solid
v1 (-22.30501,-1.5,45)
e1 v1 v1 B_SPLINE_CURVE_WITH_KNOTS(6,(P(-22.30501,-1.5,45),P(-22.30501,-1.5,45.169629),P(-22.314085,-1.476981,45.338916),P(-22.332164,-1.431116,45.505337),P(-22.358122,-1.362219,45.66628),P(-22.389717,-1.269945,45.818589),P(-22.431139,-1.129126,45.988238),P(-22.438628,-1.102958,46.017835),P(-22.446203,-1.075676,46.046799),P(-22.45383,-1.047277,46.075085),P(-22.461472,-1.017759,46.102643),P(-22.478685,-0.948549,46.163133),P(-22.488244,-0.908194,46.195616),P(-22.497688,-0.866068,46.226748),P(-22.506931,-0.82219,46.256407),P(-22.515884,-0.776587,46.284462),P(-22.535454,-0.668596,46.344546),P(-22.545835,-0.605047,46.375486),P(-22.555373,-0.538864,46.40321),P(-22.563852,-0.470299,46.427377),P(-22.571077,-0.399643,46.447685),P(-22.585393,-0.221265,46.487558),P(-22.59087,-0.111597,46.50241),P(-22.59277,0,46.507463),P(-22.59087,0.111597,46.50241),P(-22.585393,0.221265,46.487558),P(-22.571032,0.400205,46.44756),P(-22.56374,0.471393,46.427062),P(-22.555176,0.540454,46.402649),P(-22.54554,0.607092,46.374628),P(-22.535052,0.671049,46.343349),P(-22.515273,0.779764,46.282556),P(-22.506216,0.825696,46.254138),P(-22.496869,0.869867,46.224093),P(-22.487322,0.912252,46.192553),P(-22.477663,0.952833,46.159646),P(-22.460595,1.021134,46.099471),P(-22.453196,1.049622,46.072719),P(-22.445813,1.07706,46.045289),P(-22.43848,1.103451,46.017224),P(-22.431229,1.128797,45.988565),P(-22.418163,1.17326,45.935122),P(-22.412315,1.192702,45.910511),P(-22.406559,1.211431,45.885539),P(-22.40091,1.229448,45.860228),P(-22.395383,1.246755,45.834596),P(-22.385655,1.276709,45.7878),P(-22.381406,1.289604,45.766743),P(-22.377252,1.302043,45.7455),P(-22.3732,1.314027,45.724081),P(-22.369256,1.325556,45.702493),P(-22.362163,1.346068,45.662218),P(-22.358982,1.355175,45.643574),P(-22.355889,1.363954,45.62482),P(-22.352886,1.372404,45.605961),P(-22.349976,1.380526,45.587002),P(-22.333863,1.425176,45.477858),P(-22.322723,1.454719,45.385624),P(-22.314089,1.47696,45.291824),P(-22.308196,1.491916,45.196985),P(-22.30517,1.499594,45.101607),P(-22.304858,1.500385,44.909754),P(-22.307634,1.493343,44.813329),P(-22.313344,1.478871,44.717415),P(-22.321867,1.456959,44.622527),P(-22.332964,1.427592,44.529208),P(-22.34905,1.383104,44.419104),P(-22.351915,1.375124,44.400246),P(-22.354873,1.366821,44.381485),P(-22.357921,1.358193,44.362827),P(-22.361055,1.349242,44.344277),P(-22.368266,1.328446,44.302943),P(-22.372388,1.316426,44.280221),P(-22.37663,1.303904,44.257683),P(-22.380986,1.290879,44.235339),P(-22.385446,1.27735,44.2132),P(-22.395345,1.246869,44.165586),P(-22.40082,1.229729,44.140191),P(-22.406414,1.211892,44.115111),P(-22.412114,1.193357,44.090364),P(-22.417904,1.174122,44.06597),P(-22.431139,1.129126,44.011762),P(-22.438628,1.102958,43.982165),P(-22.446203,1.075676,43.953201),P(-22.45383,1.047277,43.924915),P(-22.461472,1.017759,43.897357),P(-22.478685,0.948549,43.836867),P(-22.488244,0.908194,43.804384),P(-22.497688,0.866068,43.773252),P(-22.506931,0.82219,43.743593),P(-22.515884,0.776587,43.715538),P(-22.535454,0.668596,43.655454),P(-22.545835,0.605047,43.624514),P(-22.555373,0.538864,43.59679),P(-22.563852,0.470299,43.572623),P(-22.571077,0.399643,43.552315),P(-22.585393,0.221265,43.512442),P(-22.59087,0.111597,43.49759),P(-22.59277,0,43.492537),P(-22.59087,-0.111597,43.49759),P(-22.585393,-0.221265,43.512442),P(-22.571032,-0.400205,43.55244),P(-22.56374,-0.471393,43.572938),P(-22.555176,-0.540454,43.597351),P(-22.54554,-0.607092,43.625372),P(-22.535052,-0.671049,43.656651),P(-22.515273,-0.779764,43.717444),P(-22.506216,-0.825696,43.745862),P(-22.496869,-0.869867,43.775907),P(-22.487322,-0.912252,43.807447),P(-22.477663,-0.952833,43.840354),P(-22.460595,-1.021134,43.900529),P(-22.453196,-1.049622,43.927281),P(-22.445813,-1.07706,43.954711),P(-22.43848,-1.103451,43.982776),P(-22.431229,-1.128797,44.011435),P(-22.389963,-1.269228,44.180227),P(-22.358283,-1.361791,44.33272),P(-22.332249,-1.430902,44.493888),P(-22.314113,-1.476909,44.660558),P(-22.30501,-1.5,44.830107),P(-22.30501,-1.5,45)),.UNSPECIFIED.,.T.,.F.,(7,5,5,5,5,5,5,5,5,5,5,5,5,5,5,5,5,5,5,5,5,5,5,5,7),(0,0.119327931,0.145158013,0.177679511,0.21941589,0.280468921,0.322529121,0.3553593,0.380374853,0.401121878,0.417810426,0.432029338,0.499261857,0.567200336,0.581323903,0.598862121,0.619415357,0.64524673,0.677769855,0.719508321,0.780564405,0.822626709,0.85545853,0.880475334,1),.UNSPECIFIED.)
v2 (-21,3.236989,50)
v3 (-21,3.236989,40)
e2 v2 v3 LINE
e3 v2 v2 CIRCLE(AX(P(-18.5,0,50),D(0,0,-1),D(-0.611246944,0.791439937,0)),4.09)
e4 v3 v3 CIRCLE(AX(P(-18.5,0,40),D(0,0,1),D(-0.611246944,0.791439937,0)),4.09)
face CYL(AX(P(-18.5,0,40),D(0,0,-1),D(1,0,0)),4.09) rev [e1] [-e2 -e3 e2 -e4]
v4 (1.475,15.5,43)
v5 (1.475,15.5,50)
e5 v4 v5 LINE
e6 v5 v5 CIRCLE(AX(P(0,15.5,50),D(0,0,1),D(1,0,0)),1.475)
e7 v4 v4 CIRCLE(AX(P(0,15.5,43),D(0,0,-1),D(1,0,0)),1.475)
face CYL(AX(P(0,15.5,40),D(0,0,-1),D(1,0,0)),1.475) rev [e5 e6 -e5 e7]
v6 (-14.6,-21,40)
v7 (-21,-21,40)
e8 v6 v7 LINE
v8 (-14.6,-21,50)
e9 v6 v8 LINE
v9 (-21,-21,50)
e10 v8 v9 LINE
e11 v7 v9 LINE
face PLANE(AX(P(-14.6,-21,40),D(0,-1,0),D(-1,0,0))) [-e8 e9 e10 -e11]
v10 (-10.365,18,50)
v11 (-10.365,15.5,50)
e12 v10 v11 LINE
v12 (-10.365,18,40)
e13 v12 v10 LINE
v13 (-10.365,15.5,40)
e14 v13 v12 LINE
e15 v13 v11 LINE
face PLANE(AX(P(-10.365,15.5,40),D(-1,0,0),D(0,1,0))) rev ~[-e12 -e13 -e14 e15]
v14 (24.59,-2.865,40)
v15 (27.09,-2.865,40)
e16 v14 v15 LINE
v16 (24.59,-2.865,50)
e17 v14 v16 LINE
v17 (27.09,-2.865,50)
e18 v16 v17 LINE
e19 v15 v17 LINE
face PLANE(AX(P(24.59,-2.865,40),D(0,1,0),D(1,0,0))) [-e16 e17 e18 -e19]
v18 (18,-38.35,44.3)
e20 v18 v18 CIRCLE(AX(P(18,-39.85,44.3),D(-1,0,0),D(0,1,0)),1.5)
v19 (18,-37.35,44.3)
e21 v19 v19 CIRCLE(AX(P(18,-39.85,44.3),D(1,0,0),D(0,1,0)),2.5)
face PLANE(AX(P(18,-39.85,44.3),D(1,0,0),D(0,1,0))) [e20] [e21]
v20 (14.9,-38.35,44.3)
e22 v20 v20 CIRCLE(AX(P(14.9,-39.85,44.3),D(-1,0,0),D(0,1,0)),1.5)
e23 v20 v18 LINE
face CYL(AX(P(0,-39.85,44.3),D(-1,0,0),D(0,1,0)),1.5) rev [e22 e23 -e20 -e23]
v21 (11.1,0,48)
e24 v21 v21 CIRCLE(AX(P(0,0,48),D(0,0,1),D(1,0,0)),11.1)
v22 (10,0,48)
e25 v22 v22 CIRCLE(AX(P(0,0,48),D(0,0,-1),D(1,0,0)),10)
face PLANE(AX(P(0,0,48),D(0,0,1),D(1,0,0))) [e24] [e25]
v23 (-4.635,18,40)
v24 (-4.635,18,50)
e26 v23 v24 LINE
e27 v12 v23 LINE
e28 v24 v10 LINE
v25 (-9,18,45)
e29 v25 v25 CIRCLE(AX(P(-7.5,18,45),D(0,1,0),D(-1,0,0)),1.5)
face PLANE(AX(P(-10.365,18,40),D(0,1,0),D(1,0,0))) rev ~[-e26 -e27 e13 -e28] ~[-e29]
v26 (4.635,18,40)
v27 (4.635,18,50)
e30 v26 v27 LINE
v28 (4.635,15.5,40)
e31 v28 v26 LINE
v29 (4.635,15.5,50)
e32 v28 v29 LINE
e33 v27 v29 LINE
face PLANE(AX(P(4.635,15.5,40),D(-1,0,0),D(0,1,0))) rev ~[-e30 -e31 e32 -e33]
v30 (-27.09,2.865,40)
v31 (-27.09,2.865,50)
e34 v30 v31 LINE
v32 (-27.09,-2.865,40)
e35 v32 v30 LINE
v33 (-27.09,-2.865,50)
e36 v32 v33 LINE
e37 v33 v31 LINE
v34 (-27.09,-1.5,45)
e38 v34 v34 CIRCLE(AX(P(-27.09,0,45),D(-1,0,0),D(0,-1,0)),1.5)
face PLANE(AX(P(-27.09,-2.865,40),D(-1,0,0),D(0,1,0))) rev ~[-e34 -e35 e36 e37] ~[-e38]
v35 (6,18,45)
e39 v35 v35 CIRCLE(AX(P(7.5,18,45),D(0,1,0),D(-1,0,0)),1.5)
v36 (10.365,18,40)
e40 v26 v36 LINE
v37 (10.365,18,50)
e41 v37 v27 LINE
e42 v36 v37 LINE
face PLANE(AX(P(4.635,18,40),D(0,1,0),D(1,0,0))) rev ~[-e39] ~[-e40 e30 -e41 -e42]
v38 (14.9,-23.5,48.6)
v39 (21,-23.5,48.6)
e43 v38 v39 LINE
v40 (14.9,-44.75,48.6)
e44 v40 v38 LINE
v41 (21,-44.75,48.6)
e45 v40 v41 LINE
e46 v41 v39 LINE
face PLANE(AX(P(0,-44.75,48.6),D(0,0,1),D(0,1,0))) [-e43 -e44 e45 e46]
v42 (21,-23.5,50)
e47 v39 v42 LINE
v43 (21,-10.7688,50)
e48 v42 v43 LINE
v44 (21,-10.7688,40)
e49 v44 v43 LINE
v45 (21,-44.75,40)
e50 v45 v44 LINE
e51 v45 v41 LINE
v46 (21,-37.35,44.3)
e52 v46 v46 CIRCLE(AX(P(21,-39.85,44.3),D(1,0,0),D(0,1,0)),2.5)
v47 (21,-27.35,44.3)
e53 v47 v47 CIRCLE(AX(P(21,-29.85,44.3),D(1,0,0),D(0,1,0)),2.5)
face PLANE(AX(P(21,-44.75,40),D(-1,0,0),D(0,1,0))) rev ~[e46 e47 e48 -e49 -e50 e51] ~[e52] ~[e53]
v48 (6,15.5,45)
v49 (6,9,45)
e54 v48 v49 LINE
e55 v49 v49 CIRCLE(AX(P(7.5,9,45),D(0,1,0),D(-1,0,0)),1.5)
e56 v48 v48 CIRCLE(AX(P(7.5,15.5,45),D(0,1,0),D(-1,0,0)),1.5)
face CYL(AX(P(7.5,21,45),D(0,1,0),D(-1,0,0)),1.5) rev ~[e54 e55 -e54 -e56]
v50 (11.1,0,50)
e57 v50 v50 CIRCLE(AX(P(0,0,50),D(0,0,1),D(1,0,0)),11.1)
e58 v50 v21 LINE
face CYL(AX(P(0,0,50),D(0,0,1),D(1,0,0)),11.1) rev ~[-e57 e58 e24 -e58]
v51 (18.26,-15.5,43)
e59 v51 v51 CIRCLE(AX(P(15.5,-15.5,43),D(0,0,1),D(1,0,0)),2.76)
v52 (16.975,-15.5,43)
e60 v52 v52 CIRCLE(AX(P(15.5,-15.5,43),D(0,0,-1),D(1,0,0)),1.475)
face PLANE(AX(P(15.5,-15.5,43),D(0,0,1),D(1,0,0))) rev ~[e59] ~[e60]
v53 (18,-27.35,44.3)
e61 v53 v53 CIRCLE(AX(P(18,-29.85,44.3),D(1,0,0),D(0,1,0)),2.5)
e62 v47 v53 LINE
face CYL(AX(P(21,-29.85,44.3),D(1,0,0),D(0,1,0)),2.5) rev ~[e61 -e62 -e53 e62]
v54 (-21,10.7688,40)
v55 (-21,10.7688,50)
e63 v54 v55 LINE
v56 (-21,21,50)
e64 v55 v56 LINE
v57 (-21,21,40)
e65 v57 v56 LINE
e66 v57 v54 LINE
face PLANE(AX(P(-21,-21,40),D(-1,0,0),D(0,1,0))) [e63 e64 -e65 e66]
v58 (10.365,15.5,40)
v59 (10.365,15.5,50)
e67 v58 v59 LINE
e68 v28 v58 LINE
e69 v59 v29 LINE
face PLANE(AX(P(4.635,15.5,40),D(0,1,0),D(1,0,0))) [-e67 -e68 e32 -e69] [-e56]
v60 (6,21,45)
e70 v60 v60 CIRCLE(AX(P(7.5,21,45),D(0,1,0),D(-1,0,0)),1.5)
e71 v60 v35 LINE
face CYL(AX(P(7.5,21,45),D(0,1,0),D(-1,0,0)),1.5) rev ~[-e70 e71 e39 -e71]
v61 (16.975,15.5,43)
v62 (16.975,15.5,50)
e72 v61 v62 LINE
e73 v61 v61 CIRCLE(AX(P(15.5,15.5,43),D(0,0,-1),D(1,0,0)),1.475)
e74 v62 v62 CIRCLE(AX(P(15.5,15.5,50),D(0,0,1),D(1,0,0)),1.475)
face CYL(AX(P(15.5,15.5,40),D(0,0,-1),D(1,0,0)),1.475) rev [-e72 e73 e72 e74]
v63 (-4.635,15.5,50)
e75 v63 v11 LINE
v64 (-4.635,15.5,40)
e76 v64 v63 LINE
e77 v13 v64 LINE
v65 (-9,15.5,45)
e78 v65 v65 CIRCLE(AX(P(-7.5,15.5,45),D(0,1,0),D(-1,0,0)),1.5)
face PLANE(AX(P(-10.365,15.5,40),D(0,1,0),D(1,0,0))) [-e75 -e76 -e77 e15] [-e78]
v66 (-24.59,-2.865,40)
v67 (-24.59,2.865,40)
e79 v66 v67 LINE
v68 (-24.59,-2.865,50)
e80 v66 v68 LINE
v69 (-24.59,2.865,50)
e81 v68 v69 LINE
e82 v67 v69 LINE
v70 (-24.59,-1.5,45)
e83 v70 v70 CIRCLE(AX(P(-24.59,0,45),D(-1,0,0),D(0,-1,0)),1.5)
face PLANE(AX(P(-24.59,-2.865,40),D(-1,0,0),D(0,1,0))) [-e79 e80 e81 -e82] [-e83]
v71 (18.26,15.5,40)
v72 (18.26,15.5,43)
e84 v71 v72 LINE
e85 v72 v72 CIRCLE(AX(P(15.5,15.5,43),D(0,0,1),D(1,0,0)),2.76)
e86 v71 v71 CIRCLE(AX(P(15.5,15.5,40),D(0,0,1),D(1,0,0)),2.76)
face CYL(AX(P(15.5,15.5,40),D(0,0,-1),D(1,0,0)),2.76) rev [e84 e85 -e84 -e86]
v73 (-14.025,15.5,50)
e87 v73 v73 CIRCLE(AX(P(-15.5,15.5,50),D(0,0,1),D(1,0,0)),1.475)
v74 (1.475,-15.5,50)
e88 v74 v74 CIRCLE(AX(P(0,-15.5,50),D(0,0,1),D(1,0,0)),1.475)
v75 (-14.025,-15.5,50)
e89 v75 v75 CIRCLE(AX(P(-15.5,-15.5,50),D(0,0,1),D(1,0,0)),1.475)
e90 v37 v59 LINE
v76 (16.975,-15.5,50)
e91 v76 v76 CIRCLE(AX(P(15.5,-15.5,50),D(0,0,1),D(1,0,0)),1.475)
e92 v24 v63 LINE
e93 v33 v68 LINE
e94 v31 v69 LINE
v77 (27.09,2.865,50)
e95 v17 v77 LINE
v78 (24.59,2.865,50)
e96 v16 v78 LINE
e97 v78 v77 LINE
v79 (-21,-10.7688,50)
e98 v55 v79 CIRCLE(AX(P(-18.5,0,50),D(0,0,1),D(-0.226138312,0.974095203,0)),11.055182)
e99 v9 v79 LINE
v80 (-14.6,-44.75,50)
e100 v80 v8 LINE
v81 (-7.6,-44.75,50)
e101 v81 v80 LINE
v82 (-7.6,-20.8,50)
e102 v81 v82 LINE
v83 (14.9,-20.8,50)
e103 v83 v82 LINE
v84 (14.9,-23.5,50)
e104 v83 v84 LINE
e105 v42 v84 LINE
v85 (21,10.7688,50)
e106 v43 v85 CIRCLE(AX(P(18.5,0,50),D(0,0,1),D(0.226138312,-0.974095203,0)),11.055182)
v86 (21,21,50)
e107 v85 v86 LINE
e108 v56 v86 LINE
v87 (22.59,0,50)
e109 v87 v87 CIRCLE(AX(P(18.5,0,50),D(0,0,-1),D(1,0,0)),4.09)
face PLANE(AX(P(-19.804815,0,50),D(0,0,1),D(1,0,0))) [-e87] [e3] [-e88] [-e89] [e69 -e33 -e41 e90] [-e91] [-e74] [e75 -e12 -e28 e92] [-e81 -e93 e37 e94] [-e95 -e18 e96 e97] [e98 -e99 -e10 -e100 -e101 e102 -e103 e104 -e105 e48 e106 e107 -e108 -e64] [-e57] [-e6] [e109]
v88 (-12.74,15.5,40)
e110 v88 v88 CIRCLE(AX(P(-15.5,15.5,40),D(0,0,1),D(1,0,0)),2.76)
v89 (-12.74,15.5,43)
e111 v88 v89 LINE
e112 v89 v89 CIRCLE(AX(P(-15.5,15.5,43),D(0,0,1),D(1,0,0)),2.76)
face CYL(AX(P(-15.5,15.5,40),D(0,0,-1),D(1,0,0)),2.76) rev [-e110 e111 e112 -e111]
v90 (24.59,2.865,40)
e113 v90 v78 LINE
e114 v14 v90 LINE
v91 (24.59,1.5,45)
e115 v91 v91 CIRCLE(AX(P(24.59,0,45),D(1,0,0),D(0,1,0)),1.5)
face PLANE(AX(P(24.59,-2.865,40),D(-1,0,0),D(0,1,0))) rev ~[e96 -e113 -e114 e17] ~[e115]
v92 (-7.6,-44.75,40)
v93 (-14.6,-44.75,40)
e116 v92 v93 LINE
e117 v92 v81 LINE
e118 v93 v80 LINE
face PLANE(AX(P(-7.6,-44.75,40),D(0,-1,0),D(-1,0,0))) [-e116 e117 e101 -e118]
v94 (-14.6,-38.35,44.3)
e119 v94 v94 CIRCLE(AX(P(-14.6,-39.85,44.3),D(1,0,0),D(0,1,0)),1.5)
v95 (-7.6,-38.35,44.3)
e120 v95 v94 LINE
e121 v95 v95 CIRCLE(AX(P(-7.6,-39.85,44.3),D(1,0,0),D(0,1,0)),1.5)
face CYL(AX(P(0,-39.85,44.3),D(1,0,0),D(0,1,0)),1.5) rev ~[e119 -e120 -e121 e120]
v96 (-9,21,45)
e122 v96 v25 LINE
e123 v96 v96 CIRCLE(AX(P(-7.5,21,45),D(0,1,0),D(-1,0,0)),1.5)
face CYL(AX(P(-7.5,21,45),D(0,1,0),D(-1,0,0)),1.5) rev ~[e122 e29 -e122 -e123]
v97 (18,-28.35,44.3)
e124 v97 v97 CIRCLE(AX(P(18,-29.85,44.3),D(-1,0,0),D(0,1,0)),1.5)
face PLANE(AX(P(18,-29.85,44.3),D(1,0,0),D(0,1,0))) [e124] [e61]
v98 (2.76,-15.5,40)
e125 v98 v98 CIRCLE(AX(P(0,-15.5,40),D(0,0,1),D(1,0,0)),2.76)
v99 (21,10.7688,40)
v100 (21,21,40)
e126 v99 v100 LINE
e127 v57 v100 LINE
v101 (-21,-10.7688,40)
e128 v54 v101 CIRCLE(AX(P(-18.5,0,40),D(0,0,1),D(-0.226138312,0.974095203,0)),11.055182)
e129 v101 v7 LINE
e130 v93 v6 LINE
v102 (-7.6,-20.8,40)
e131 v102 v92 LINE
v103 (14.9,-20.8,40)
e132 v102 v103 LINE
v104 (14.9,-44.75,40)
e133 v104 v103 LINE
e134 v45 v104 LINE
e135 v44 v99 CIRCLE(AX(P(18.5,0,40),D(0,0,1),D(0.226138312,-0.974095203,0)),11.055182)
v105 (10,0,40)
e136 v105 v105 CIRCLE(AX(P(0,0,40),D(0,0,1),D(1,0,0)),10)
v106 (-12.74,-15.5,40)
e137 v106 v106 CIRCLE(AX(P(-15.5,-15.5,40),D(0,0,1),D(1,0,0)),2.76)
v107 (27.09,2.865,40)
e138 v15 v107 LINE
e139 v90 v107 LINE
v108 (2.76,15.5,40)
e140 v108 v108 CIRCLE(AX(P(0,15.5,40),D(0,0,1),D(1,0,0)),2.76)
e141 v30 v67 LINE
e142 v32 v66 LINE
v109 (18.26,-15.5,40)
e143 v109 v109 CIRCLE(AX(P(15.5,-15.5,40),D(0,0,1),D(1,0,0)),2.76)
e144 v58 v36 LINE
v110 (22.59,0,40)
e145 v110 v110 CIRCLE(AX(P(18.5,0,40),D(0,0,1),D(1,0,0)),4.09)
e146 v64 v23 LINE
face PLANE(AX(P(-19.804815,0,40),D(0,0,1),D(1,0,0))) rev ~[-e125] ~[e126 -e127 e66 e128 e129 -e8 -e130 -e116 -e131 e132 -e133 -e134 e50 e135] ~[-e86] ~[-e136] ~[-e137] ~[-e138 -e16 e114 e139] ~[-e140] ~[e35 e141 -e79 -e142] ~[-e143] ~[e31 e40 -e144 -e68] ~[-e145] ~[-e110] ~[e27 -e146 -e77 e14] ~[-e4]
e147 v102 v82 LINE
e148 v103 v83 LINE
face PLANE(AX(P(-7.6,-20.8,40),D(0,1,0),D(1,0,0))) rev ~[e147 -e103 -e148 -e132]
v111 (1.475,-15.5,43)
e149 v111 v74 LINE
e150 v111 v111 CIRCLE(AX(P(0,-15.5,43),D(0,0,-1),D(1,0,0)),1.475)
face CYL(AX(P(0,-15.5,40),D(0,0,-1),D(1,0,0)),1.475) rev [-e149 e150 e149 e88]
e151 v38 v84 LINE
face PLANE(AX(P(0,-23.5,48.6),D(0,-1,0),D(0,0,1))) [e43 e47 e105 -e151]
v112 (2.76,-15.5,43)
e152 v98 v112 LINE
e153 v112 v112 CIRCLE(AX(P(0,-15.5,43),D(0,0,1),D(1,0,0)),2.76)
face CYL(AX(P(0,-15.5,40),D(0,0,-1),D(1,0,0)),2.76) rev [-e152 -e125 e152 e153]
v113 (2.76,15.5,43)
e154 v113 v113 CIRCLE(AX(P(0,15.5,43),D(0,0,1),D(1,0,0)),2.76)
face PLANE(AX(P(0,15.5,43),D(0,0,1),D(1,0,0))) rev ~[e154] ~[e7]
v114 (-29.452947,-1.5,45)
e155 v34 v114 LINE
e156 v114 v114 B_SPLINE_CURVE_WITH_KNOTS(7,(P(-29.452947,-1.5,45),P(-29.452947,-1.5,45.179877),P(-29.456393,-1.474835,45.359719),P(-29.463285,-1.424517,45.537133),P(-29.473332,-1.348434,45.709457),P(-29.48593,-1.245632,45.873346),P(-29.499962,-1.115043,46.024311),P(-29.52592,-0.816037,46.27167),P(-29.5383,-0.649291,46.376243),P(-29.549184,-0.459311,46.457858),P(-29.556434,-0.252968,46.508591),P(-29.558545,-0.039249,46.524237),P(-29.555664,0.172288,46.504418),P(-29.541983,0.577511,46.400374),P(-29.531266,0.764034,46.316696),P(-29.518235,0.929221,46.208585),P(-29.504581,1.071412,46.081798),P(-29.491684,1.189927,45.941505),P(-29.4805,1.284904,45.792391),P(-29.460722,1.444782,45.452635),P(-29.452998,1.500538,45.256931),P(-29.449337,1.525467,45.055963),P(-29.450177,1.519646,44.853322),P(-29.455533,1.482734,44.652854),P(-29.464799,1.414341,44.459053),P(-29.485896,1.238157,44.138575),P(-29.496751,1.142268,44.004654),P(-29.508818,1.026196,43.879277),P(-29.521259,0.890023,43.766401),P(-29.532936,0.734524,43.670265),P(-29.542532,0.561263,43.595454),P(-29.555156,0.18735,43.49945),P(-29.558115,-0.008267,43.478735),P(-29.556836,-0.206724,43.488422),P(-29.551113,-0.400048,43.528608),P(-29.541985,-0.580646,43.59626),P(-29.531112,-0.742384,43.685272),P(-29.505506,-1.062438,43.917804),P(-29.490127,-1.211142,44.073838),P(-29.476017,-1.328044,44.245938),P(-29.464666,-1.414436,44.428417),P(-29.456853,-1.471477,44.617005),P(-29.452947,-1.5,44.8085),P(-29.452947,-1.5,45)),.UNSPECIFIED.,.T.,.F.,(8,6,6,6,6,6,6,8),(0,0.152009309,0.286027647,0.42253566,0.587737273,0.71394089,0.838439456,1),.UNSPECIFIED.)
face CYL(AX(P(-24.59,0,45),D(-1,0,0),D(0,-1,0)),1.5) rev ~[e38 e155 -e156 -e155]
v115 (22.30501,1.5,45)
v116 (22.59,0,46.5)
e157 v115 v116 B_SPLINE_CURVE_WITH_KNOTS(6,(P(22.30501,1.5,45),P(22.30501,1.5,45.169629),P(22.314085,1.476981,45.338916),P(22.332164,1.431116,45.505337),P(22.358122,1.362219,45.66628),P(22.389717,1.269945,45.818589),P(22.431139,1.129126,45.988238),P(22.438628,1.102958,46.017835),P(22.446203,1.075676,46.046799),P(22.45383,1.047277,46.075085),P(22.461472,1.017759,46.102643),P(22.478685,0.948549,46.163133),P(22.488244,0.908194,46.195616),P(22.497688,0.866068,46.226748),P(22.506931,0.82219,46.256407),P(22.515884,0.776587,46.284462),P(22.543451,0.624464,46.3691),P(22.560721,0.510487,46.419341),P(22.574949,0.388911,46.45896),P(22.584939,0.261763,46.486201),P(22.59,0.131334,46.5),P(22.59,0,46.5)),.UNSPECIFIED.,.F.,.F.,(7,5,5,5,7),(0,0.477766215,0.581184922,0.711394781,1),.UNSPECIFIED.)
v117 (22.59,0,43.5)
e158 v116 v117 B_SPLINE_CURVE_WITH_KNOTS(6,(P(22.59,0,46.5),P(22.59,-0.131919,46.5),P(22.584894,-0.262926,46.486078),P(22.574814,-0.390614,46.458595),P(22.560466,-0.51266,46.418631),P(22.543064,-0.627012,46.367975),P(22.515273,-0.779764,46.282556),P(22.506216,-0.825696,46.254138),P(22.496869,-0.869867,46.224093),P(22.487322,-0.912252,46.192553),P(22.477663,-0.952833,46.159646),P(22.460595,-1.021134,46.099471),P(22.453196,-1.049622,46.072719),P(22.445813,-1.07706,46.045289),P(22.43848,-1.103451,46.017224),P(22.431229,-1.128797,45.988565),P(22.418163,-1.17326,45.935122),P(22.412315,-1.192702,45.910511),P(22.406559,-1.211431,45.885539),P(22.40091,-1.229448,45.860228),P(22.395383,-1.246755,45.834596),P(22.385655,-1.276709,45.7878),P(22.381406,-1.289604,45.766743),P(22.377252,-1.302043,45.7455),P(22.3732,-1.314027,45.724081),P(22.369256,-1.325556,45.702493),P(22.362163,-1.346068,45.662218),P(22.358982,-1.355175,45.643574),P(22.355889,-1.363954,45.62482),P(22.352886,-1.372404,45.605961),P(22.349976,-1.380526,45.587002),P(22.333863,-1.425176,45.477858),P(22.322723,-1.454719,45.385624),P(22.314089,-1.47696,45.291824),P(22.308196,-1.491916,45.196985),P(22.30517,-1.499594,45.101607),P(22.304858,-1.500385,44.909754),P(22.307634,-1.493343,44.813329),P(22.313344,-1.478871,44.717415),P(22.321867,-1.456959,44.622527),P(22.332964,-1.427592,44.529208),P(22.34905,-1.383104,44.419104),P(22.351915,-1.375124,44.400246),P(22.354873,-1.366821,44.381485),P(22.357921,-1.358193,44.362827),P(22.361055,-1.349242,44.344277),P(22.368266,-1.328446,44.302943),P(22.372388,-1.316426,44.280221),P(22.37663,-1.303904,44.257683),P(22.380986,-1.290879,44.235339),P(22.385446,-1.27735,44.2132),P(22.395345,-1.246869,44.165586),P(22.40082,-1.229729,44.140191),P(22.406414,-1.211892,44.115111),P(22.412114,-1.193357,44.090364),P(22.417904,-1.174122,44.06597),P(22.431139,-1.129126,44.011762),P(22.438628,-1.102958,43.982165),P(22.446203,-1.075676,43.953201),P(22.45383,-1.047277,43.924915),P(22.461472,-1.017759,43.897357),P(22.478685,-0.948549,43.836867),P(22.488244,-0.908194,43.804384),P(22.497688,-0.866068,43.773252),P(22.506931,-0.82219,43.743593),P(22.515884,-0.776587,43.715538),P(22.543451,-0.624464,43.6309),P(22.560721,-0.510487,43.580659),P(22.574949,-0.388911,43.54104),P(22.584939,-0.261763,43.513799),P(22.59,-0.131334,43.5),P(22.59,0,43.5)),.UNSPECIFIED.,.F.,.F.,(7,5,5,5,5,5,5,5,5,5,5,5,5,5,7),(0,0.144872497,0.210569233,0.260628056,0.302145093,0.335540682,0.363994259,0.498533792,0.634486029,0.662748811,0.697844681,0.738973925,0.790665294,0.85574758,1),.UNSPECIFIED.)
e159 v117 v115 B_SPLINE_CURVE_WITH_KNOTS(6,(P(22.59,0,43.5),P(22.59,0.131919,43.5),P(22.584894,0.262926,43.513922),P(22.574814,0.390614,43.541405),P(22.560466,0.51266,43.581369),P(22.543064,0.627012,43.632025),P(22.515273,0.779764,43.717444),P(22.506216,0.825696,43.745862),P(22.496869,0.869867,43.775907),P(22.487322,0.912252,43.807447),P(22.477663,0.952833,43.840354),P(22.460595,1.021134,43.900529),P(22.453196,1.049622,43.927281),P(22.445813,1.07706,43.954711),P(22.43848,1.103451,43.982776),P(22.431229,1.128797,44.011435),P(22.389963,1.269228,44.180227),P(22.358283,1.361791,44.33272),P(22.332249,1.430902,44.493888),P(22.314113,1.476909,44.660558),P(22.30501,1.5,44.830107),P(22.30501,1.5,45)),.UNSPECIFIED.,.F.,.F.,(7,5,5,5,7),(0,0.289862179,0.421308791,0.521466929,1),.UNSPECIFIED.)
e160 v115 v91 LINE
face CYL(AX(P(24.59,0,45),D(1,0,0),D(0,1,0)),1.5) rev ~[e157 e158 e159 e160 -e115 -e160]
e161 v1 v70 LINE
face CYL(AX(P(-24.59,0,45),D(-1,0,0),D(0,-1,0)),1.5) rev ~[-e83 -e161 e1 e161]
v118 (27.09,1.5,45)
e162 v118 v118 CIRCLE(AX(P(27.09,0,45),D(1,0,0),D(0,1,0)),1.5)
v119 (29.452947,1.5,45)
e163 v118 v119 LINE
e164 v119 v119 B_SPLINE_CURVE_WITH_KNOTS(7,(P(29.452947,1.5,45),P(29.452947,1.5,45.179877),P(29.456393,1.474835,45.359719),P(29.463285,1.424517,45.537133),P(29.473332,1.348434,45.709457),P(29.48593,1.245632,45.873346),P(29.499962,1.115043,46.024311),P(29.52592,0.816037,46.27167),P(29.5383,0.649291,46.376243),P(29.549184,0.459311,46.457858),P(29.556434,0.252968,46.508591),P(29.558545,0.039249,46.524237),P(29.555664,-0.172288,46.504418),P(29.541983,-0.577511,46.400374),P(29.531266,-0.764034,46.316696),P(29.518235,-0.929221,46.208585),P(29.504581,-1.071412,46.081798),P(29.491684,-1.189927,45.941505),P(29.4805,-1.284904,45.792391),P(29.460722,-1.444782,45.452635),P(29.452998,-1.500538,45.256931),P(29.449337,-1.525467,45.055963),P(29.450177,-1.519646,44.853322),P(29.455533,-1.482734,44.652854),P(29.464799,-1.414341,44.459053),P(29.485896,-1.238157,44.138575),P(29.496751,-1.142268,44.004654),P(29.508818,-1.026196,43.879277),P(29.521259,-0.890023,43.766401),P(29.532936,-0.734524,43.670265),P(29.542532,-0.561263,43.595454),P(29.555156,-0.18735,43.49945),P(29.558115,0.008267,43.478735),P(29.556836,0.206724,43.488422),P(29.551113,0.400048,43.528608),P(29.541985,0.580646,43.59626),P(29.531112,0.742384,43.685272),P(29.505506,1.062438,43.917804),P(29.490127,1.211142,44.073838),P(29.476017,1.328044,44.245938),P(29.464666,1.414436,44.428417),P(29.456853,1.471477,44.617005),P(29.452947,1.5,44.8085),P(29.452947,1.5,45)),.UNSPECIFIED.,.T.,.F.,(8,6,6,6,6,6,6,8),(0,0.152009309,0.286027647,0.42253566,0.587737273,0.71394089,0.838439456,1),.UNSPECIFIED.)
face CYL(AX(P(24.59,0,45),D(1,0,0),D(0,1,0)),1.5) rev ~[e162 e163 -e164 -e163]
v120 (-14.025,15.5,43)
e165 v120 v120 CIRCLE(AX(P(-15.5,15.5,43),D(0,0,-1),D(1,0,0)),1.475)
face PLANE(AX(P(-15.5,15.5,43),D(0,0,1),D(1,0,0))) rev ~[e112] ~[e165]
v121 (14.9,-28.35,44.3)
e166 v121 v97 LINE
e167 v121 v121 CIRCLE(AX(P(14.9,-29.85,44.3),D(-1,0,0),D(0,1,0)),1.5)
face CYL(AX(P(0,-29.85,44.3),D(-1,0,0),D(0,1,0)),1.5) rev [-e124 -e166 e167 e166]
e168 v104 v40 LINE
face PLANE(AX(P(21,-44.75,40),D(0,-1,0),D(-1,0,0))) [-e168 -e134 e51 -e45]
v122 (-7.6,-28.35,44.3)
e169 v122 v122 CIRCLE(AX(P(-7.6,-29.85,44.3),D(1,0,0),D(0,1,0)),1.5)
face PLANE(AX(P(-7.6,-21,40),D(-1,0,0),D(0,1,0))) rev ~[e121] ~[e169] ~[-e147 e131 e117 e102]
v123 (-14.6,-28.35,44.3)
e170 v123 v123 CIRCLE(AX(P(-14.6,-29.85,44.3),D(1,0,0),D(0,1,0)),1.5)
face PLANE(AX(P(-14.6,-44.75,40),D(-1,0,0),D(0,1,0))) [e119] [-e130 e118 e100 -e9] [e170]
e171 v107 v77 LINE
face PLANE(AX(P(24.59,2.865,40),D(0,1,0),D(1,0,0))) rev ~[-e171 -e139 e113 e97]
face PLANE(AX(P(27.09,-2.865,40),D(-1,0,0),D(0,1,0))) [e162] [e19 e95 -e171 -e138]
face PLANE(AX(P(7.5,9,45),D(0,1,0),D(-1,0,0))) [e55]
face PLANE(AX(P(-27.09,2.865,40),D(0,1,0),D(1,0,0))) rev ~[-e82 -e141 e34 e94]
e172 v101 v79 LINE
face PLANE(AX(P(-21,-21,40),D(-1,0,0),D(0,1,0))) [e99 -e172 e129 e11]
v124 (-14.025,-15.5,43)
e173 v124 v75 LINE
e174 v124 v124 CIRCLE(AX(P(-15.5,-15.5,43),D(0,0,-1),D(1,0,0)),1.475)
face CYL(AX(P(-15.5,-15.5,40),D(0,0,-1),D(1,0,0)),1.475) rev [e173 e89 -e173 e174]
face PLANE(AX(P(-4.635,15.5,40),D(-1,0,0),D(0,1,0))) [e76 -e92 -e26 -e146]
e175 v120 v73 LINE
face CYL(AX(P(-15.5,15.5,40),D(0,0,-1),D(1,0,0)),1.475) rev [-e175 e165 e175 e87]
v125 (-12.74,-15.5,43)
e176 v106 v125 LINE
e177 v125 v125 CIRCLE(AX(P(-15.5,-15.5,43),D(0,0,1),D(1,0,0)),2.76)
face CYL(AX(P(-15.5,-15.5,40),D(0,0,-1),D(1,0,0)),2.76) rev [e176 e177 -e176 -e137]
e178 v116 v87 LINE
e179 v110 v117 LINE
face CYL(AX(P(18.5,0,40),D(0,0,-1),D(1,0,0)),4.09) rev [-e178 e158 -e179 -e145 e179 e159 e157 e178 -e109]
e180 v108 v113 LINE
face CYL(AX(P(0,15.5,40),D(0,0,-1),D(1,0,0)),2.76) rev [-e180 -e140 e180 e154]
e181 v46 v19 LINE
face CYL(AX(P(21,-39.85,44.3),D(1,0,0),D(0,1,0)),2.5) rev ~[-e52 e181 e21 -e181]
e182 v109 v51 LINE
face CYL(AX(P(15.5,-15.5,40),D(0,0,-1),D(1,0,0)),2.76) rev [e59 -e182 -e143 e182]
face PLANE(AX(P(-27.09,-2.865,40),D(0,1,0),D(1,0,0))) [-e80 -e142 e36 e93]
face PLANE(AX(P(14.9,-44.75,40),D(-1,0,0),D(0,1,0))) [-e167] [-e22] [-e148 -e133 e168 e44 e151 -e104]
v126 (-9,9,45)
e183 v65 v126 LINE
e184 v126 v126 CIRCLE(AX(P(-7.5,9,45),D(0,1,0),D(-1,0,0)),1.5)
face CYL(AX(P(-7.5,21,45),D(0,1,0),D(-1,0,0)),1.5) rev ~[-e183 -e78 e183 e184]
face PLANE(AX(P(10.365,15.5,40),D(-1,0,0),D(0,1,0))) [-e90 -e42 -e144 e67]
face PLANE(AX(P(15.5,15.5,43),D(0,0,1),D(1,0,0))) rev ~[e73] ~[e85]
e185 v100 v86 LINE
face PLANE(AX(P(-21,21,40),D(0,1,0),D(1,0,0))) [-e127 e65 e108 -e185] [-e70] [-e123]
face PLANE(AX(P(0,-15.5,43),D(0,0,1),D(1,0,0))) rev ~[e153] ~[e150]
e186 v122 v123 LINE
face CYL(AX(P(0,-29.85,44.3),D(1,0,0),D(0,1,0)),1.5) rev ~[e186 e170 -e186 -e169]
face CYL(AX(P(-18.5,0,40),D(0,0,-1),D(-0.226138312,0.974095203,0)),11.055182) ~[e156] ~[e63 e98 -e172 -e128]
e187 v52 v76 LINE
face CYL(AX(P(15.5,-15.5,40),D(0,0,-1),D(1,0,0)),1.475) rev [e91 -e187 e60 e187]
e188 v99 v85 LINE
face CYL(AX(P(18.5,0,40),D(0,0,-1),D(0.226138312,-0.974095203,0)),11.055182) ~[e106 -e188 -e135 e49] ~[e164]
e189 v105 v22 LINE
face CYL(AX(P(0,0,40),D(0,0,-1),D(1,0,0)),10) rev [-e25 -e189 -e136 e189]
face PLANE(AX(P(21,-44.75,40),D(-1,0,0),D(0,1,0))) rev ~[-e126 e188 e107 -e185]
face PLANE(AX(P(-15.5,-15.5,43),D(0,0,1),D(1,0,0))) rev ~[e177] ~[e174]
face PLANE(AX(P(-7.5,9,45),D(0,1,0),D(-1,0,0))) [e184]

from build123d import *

# Parameters (mm, degrees)
SKETCH004_R          = 1.475
SKETCH004_R_2        = 10
PAD003_DEPTH         = 10
SKETCH009_R          = 2.76
POCKET002_DEPTH      = 3
SKETCH014_R          = 11.1
POCKET006_DEPTH      = 2
SKETCH016_W          = 21.25
SKETCH016_H          = 3
POCKET_DEPTH         = 21.001
SKETCH015_R          = 1.5
POCKET007_DEPTH      = 21.001
POCKET007_DEPTH_BACK = 21.001
SKETCH_R             = 2.5
POCKET008_DEPTH      = 3
SKETCH017_R          = 4.09
POCKET009_DEPTH      = 0.001
POCKET009_DEPTH_BACK = 10.001
SKETCH018_R          = 4.09
SKETCH018_W          = 2.5
SKETCH018_H          = 5.73
PAD_DEPTH            = 10
SKETCH019_W          = 5.73
SKETCH019_H          = 2.5
POCKET010_DEPTH      = 0.001
POCKET010_DEPTH_BACK = 10.001
SKETCH020_R          = 1.5
POCKET011_DEPTH      = 12
SKETCH045_R          = 1.5
POCKET027_DEPTH      = 5
SKETCH046_R          = 1.5
POCKET028_DEPTH      = 5
SKETCH052_W          = 22.5
SKETCH052_H          = 0.2
POCKET034_DEPTH      = 0.001
POCKET034_DEPTH_BACK = 10.001


with BuildPart() as part:
    # Sketch004 → Pad003 (new body)
    with BuildSketch(Plane.XY):
        Polygon((-21, 21), (21, 21), (21, 10), (21, -10), (21, -21), (21, -44.75), (14.9, -44.75), (14.9, -21), (-7.6, -21), (-7.6, -44.75), (-14.6, -44.75), (-14.6, -21), (-21, -21), align=None)
        with Locations((-15.5, 15.5)):
            Circle(SKETCH004_R, mode=Mode.SUBTRACT)
        with Locations((15.5, 15.5)):
            Circle(SKETCH004_R, mode=Mode.SUBTRACT)
        with Locations((-15.5, -15.5)):
            Circle(SKETCH004_R, mode=Mode.SUBTRACT)
        with Locations((15.5, -15.5)):
            Circle(SKETCH004_R, mode=Mode.SUBTRACT)
        with Locations((0, 15.5)):
            Circle(SKETCH004_R, mode=Mode.SUBTRACT)
        with Locations((0, -15.5)):
            Circle(SKETCH004_R, mode=Mode.SUBTRACT)
        Circle(SKETCH004_R_2, mode=Mode.SUBTRACT)
    extrude(amount=PAD003_DEPTH)

    # Sketch009 → Pocket002 (cut)
    with BuildSketch(Plane.XY):
        with Locations((-15.5, 15.5)):
            Circle(SKETCH009_R)
        with Locations((15.5, 15.5)):
            Circle(SKETCH009_R)
        with Locations((-15.5, -15.5)):
            Circle(SKETCH009_R)
        with Locations((15.5, -15.5)):
            Circle(SKETCH009_R)
        with Locations((0, 15.5)):
            Circle(SKETCH009_R)
        with Locations((0, -15.5)):
            Circle(SKETCH009_R)
    extrude(amount=POCKET002_DEPTH, mode=Mode.SUBTRACT)

    # Sketch014 (on Face5 of Pocket002) → Pocket006 (cut)
    with BuildSketch(Plane.XY.offset(10)):
        Circle(SKETCH014_R)
    extrude(amount=-POCKET006_DEPTH, mode=Mode.SUBTRACT)

    # Sketch016 → Pocket (cut, through all)
    with BuildSketch(Plane.YZ):
        with Locations((-34.125, 10.1)):
            Rectangle(SKETCH016_W, SKETCH016_H)
    extrude(amount=POCKET_DEPTH, mode=Mode.SUBTRACT)

    # Sketch015 → Pocket007 (cut, two sides)
    with BuildSketch(Plane.YZ) as pocket007_sk:
        with Locations((-39.85, 4.3)):
            Circle(SKETCH015_R)
        with Locations((-29.85, 4.3)):
            Circle(SKETCH015_R)
    extrude(amount=-POCKET007_DEPTH, mode=Mode.SUBTRACT)
    extrude(pocket007_sk.sketch, amount=POCKET007_DEPTH_BACK, mode=Mode.SUBTRACT)

    # Sketch (on DatumPlane) → Pocket008 (cut)
    with BuildSketch(Plane.YZ.offset(21)):
        with Locations((-39.85, 4.3)):
            Circle(SKETCH_R)
        with Locations((-29.85, 4.3)):
            Circle(SKETCH_R)
    extrude(amount=-POCKET008_DEPTH, mode=Mode.SUBTRACT)

    # Sketch017 → Pocket009 (cut, two sides)
    with BuildSketch(Plane.XY) as pocket009_sk:
        with Locations((-18.5, 0)):
            Circle(SKETCH017_R)
        with Locations((18.5, 0)):
            Circle(SKETCH017_R)
    extrude(amount=-POCKET009_DEPTH, mode=Mode.SUBTRACT)
    extrude(pocket009_sk.sketch, amount=POCKET009_DEPTH_BACK, mode=Mode.SUBTRACT)

    # Sketch018 → Pad (join)
    with BuildSketch(Plane.XY):
        with BuildLine():
            ThreePointArc((-21, 10.7688), (-29.555182, 0), (-21, -10.7688))
            Line((-13.41, -10.7688), (-21, -10.7688))
            Line((-13.41, 10.7688), (-13.41, -10.7688))
            Line((-21, 10.7688), (-13.41, 10.7688))
        make_face()
        with Locations((-18.5, 0)):
            Circle(SKETCH018_R, mode=Mode.SUBTRACT)
        with Locations((-25.84, 0)):
            Rectangle(SKETCH018_W, SKETCH018_H, mode=Mode.SUBTRACT)
        with BuildLine():
            ThreePointArc((21, -10.7688), (29.555182, 0), (21, 10.7688))
            Line((13.41, 10.7688), (21, 10.7688))
            Line((13.41, 10.7688), (13.41, -10.7688))
            Line((13.41, -10.7688), (21, -10.7688))
        make_face()
        with Locations((18.5, 0)):
            Circle(SKETCH018_R, mode=Mode.SUBTRACT)
        with Locations((25.84, 0)):
            Rectangle(SKETCH018_W, SKETCH018_H, mode=Mode.SUBTRACT)
    extrude(amount=PAD_DEPTH)

    # Sketch019 → Pocket010 (cut, two sides)
    with BuildSketch(Plane.XY) as pocket010_sk:
        with Locations((-7.5, 16.75)):
            Rectangle(SKETCH019_W, SKETCH019_H)
        with Locations((7.5, 16.75)):
            Rectangle(SKETCH019_W, SKETCH019_H)
    extrude(amount=-POCKET010_DEPTH, mode=Mode.SUBTRACT)
    extrude(pocket010_sk.sketch, amount=POCKET010_DEPTH_BACK, mode=Mode.SUBTRACT)

    # Sketch020 (on DatumPlane) → Pocket011 (cut)
    with BuildSketch(Plane(origin=(0, 21, 0), x_dir=(-1, 0, 0), z_dir=(0, 1, 0))):
        with Locations((-7.5, 5)):
            Circle(SKETCH020_R)
        with Locations((7.5, 5)):
            Circle(SKETCH020_R)
    extrude(amount=-POCKET011_DEPTH, mode=Mode.SUBTRACT)

    # Sketch045 (on DatumPlane) → Pocket027 (cut, symmetric)
    with BuildSketch(Plane.YZ.offset(24.59)):
        with Locations((0, 5)):
            Circle(SKETCH045_R)
    extrude(amount=POCKET027_DEPTH, both=True, mode=Mode.SUBTRACT)

    # Sketch046 (on DatumPlane) → Pocket028 (cut, symmetric)
    with BuildSketch(Plane(origin=(-24.59, 0, 0), x_dir=(0, -1, 0), z_dir=(-1, 0, 0))):
        with Locations((0, 5)):
            Circle(SKETCH046_R)
    extrude(amount=POCKET028_DEPTH, both=True, mode=Mode.SUBTRACT)

    # Sketch052 → Pocket034 (cut, two sides)
    with BuildSketch(Plane.XY) as pocket034_sk:
        with Locations((3.65, -20.9)):
            Rectangle(SKETCH052_W, SKETCH052_H)
    extrude(amount=-POCKET034_DEPTH, mode=Mode.SUBTRACT)
    extrude(pocket034_sk.sketch, amount=POCKET034_DEPTH_BACK, mode=Mode.SUBTRACT)


with BuildPart() as part_1:
    # Body003 placement: moved
    add(part.part.moved(Location((0, 0, 40))))


solid = part_1.part
